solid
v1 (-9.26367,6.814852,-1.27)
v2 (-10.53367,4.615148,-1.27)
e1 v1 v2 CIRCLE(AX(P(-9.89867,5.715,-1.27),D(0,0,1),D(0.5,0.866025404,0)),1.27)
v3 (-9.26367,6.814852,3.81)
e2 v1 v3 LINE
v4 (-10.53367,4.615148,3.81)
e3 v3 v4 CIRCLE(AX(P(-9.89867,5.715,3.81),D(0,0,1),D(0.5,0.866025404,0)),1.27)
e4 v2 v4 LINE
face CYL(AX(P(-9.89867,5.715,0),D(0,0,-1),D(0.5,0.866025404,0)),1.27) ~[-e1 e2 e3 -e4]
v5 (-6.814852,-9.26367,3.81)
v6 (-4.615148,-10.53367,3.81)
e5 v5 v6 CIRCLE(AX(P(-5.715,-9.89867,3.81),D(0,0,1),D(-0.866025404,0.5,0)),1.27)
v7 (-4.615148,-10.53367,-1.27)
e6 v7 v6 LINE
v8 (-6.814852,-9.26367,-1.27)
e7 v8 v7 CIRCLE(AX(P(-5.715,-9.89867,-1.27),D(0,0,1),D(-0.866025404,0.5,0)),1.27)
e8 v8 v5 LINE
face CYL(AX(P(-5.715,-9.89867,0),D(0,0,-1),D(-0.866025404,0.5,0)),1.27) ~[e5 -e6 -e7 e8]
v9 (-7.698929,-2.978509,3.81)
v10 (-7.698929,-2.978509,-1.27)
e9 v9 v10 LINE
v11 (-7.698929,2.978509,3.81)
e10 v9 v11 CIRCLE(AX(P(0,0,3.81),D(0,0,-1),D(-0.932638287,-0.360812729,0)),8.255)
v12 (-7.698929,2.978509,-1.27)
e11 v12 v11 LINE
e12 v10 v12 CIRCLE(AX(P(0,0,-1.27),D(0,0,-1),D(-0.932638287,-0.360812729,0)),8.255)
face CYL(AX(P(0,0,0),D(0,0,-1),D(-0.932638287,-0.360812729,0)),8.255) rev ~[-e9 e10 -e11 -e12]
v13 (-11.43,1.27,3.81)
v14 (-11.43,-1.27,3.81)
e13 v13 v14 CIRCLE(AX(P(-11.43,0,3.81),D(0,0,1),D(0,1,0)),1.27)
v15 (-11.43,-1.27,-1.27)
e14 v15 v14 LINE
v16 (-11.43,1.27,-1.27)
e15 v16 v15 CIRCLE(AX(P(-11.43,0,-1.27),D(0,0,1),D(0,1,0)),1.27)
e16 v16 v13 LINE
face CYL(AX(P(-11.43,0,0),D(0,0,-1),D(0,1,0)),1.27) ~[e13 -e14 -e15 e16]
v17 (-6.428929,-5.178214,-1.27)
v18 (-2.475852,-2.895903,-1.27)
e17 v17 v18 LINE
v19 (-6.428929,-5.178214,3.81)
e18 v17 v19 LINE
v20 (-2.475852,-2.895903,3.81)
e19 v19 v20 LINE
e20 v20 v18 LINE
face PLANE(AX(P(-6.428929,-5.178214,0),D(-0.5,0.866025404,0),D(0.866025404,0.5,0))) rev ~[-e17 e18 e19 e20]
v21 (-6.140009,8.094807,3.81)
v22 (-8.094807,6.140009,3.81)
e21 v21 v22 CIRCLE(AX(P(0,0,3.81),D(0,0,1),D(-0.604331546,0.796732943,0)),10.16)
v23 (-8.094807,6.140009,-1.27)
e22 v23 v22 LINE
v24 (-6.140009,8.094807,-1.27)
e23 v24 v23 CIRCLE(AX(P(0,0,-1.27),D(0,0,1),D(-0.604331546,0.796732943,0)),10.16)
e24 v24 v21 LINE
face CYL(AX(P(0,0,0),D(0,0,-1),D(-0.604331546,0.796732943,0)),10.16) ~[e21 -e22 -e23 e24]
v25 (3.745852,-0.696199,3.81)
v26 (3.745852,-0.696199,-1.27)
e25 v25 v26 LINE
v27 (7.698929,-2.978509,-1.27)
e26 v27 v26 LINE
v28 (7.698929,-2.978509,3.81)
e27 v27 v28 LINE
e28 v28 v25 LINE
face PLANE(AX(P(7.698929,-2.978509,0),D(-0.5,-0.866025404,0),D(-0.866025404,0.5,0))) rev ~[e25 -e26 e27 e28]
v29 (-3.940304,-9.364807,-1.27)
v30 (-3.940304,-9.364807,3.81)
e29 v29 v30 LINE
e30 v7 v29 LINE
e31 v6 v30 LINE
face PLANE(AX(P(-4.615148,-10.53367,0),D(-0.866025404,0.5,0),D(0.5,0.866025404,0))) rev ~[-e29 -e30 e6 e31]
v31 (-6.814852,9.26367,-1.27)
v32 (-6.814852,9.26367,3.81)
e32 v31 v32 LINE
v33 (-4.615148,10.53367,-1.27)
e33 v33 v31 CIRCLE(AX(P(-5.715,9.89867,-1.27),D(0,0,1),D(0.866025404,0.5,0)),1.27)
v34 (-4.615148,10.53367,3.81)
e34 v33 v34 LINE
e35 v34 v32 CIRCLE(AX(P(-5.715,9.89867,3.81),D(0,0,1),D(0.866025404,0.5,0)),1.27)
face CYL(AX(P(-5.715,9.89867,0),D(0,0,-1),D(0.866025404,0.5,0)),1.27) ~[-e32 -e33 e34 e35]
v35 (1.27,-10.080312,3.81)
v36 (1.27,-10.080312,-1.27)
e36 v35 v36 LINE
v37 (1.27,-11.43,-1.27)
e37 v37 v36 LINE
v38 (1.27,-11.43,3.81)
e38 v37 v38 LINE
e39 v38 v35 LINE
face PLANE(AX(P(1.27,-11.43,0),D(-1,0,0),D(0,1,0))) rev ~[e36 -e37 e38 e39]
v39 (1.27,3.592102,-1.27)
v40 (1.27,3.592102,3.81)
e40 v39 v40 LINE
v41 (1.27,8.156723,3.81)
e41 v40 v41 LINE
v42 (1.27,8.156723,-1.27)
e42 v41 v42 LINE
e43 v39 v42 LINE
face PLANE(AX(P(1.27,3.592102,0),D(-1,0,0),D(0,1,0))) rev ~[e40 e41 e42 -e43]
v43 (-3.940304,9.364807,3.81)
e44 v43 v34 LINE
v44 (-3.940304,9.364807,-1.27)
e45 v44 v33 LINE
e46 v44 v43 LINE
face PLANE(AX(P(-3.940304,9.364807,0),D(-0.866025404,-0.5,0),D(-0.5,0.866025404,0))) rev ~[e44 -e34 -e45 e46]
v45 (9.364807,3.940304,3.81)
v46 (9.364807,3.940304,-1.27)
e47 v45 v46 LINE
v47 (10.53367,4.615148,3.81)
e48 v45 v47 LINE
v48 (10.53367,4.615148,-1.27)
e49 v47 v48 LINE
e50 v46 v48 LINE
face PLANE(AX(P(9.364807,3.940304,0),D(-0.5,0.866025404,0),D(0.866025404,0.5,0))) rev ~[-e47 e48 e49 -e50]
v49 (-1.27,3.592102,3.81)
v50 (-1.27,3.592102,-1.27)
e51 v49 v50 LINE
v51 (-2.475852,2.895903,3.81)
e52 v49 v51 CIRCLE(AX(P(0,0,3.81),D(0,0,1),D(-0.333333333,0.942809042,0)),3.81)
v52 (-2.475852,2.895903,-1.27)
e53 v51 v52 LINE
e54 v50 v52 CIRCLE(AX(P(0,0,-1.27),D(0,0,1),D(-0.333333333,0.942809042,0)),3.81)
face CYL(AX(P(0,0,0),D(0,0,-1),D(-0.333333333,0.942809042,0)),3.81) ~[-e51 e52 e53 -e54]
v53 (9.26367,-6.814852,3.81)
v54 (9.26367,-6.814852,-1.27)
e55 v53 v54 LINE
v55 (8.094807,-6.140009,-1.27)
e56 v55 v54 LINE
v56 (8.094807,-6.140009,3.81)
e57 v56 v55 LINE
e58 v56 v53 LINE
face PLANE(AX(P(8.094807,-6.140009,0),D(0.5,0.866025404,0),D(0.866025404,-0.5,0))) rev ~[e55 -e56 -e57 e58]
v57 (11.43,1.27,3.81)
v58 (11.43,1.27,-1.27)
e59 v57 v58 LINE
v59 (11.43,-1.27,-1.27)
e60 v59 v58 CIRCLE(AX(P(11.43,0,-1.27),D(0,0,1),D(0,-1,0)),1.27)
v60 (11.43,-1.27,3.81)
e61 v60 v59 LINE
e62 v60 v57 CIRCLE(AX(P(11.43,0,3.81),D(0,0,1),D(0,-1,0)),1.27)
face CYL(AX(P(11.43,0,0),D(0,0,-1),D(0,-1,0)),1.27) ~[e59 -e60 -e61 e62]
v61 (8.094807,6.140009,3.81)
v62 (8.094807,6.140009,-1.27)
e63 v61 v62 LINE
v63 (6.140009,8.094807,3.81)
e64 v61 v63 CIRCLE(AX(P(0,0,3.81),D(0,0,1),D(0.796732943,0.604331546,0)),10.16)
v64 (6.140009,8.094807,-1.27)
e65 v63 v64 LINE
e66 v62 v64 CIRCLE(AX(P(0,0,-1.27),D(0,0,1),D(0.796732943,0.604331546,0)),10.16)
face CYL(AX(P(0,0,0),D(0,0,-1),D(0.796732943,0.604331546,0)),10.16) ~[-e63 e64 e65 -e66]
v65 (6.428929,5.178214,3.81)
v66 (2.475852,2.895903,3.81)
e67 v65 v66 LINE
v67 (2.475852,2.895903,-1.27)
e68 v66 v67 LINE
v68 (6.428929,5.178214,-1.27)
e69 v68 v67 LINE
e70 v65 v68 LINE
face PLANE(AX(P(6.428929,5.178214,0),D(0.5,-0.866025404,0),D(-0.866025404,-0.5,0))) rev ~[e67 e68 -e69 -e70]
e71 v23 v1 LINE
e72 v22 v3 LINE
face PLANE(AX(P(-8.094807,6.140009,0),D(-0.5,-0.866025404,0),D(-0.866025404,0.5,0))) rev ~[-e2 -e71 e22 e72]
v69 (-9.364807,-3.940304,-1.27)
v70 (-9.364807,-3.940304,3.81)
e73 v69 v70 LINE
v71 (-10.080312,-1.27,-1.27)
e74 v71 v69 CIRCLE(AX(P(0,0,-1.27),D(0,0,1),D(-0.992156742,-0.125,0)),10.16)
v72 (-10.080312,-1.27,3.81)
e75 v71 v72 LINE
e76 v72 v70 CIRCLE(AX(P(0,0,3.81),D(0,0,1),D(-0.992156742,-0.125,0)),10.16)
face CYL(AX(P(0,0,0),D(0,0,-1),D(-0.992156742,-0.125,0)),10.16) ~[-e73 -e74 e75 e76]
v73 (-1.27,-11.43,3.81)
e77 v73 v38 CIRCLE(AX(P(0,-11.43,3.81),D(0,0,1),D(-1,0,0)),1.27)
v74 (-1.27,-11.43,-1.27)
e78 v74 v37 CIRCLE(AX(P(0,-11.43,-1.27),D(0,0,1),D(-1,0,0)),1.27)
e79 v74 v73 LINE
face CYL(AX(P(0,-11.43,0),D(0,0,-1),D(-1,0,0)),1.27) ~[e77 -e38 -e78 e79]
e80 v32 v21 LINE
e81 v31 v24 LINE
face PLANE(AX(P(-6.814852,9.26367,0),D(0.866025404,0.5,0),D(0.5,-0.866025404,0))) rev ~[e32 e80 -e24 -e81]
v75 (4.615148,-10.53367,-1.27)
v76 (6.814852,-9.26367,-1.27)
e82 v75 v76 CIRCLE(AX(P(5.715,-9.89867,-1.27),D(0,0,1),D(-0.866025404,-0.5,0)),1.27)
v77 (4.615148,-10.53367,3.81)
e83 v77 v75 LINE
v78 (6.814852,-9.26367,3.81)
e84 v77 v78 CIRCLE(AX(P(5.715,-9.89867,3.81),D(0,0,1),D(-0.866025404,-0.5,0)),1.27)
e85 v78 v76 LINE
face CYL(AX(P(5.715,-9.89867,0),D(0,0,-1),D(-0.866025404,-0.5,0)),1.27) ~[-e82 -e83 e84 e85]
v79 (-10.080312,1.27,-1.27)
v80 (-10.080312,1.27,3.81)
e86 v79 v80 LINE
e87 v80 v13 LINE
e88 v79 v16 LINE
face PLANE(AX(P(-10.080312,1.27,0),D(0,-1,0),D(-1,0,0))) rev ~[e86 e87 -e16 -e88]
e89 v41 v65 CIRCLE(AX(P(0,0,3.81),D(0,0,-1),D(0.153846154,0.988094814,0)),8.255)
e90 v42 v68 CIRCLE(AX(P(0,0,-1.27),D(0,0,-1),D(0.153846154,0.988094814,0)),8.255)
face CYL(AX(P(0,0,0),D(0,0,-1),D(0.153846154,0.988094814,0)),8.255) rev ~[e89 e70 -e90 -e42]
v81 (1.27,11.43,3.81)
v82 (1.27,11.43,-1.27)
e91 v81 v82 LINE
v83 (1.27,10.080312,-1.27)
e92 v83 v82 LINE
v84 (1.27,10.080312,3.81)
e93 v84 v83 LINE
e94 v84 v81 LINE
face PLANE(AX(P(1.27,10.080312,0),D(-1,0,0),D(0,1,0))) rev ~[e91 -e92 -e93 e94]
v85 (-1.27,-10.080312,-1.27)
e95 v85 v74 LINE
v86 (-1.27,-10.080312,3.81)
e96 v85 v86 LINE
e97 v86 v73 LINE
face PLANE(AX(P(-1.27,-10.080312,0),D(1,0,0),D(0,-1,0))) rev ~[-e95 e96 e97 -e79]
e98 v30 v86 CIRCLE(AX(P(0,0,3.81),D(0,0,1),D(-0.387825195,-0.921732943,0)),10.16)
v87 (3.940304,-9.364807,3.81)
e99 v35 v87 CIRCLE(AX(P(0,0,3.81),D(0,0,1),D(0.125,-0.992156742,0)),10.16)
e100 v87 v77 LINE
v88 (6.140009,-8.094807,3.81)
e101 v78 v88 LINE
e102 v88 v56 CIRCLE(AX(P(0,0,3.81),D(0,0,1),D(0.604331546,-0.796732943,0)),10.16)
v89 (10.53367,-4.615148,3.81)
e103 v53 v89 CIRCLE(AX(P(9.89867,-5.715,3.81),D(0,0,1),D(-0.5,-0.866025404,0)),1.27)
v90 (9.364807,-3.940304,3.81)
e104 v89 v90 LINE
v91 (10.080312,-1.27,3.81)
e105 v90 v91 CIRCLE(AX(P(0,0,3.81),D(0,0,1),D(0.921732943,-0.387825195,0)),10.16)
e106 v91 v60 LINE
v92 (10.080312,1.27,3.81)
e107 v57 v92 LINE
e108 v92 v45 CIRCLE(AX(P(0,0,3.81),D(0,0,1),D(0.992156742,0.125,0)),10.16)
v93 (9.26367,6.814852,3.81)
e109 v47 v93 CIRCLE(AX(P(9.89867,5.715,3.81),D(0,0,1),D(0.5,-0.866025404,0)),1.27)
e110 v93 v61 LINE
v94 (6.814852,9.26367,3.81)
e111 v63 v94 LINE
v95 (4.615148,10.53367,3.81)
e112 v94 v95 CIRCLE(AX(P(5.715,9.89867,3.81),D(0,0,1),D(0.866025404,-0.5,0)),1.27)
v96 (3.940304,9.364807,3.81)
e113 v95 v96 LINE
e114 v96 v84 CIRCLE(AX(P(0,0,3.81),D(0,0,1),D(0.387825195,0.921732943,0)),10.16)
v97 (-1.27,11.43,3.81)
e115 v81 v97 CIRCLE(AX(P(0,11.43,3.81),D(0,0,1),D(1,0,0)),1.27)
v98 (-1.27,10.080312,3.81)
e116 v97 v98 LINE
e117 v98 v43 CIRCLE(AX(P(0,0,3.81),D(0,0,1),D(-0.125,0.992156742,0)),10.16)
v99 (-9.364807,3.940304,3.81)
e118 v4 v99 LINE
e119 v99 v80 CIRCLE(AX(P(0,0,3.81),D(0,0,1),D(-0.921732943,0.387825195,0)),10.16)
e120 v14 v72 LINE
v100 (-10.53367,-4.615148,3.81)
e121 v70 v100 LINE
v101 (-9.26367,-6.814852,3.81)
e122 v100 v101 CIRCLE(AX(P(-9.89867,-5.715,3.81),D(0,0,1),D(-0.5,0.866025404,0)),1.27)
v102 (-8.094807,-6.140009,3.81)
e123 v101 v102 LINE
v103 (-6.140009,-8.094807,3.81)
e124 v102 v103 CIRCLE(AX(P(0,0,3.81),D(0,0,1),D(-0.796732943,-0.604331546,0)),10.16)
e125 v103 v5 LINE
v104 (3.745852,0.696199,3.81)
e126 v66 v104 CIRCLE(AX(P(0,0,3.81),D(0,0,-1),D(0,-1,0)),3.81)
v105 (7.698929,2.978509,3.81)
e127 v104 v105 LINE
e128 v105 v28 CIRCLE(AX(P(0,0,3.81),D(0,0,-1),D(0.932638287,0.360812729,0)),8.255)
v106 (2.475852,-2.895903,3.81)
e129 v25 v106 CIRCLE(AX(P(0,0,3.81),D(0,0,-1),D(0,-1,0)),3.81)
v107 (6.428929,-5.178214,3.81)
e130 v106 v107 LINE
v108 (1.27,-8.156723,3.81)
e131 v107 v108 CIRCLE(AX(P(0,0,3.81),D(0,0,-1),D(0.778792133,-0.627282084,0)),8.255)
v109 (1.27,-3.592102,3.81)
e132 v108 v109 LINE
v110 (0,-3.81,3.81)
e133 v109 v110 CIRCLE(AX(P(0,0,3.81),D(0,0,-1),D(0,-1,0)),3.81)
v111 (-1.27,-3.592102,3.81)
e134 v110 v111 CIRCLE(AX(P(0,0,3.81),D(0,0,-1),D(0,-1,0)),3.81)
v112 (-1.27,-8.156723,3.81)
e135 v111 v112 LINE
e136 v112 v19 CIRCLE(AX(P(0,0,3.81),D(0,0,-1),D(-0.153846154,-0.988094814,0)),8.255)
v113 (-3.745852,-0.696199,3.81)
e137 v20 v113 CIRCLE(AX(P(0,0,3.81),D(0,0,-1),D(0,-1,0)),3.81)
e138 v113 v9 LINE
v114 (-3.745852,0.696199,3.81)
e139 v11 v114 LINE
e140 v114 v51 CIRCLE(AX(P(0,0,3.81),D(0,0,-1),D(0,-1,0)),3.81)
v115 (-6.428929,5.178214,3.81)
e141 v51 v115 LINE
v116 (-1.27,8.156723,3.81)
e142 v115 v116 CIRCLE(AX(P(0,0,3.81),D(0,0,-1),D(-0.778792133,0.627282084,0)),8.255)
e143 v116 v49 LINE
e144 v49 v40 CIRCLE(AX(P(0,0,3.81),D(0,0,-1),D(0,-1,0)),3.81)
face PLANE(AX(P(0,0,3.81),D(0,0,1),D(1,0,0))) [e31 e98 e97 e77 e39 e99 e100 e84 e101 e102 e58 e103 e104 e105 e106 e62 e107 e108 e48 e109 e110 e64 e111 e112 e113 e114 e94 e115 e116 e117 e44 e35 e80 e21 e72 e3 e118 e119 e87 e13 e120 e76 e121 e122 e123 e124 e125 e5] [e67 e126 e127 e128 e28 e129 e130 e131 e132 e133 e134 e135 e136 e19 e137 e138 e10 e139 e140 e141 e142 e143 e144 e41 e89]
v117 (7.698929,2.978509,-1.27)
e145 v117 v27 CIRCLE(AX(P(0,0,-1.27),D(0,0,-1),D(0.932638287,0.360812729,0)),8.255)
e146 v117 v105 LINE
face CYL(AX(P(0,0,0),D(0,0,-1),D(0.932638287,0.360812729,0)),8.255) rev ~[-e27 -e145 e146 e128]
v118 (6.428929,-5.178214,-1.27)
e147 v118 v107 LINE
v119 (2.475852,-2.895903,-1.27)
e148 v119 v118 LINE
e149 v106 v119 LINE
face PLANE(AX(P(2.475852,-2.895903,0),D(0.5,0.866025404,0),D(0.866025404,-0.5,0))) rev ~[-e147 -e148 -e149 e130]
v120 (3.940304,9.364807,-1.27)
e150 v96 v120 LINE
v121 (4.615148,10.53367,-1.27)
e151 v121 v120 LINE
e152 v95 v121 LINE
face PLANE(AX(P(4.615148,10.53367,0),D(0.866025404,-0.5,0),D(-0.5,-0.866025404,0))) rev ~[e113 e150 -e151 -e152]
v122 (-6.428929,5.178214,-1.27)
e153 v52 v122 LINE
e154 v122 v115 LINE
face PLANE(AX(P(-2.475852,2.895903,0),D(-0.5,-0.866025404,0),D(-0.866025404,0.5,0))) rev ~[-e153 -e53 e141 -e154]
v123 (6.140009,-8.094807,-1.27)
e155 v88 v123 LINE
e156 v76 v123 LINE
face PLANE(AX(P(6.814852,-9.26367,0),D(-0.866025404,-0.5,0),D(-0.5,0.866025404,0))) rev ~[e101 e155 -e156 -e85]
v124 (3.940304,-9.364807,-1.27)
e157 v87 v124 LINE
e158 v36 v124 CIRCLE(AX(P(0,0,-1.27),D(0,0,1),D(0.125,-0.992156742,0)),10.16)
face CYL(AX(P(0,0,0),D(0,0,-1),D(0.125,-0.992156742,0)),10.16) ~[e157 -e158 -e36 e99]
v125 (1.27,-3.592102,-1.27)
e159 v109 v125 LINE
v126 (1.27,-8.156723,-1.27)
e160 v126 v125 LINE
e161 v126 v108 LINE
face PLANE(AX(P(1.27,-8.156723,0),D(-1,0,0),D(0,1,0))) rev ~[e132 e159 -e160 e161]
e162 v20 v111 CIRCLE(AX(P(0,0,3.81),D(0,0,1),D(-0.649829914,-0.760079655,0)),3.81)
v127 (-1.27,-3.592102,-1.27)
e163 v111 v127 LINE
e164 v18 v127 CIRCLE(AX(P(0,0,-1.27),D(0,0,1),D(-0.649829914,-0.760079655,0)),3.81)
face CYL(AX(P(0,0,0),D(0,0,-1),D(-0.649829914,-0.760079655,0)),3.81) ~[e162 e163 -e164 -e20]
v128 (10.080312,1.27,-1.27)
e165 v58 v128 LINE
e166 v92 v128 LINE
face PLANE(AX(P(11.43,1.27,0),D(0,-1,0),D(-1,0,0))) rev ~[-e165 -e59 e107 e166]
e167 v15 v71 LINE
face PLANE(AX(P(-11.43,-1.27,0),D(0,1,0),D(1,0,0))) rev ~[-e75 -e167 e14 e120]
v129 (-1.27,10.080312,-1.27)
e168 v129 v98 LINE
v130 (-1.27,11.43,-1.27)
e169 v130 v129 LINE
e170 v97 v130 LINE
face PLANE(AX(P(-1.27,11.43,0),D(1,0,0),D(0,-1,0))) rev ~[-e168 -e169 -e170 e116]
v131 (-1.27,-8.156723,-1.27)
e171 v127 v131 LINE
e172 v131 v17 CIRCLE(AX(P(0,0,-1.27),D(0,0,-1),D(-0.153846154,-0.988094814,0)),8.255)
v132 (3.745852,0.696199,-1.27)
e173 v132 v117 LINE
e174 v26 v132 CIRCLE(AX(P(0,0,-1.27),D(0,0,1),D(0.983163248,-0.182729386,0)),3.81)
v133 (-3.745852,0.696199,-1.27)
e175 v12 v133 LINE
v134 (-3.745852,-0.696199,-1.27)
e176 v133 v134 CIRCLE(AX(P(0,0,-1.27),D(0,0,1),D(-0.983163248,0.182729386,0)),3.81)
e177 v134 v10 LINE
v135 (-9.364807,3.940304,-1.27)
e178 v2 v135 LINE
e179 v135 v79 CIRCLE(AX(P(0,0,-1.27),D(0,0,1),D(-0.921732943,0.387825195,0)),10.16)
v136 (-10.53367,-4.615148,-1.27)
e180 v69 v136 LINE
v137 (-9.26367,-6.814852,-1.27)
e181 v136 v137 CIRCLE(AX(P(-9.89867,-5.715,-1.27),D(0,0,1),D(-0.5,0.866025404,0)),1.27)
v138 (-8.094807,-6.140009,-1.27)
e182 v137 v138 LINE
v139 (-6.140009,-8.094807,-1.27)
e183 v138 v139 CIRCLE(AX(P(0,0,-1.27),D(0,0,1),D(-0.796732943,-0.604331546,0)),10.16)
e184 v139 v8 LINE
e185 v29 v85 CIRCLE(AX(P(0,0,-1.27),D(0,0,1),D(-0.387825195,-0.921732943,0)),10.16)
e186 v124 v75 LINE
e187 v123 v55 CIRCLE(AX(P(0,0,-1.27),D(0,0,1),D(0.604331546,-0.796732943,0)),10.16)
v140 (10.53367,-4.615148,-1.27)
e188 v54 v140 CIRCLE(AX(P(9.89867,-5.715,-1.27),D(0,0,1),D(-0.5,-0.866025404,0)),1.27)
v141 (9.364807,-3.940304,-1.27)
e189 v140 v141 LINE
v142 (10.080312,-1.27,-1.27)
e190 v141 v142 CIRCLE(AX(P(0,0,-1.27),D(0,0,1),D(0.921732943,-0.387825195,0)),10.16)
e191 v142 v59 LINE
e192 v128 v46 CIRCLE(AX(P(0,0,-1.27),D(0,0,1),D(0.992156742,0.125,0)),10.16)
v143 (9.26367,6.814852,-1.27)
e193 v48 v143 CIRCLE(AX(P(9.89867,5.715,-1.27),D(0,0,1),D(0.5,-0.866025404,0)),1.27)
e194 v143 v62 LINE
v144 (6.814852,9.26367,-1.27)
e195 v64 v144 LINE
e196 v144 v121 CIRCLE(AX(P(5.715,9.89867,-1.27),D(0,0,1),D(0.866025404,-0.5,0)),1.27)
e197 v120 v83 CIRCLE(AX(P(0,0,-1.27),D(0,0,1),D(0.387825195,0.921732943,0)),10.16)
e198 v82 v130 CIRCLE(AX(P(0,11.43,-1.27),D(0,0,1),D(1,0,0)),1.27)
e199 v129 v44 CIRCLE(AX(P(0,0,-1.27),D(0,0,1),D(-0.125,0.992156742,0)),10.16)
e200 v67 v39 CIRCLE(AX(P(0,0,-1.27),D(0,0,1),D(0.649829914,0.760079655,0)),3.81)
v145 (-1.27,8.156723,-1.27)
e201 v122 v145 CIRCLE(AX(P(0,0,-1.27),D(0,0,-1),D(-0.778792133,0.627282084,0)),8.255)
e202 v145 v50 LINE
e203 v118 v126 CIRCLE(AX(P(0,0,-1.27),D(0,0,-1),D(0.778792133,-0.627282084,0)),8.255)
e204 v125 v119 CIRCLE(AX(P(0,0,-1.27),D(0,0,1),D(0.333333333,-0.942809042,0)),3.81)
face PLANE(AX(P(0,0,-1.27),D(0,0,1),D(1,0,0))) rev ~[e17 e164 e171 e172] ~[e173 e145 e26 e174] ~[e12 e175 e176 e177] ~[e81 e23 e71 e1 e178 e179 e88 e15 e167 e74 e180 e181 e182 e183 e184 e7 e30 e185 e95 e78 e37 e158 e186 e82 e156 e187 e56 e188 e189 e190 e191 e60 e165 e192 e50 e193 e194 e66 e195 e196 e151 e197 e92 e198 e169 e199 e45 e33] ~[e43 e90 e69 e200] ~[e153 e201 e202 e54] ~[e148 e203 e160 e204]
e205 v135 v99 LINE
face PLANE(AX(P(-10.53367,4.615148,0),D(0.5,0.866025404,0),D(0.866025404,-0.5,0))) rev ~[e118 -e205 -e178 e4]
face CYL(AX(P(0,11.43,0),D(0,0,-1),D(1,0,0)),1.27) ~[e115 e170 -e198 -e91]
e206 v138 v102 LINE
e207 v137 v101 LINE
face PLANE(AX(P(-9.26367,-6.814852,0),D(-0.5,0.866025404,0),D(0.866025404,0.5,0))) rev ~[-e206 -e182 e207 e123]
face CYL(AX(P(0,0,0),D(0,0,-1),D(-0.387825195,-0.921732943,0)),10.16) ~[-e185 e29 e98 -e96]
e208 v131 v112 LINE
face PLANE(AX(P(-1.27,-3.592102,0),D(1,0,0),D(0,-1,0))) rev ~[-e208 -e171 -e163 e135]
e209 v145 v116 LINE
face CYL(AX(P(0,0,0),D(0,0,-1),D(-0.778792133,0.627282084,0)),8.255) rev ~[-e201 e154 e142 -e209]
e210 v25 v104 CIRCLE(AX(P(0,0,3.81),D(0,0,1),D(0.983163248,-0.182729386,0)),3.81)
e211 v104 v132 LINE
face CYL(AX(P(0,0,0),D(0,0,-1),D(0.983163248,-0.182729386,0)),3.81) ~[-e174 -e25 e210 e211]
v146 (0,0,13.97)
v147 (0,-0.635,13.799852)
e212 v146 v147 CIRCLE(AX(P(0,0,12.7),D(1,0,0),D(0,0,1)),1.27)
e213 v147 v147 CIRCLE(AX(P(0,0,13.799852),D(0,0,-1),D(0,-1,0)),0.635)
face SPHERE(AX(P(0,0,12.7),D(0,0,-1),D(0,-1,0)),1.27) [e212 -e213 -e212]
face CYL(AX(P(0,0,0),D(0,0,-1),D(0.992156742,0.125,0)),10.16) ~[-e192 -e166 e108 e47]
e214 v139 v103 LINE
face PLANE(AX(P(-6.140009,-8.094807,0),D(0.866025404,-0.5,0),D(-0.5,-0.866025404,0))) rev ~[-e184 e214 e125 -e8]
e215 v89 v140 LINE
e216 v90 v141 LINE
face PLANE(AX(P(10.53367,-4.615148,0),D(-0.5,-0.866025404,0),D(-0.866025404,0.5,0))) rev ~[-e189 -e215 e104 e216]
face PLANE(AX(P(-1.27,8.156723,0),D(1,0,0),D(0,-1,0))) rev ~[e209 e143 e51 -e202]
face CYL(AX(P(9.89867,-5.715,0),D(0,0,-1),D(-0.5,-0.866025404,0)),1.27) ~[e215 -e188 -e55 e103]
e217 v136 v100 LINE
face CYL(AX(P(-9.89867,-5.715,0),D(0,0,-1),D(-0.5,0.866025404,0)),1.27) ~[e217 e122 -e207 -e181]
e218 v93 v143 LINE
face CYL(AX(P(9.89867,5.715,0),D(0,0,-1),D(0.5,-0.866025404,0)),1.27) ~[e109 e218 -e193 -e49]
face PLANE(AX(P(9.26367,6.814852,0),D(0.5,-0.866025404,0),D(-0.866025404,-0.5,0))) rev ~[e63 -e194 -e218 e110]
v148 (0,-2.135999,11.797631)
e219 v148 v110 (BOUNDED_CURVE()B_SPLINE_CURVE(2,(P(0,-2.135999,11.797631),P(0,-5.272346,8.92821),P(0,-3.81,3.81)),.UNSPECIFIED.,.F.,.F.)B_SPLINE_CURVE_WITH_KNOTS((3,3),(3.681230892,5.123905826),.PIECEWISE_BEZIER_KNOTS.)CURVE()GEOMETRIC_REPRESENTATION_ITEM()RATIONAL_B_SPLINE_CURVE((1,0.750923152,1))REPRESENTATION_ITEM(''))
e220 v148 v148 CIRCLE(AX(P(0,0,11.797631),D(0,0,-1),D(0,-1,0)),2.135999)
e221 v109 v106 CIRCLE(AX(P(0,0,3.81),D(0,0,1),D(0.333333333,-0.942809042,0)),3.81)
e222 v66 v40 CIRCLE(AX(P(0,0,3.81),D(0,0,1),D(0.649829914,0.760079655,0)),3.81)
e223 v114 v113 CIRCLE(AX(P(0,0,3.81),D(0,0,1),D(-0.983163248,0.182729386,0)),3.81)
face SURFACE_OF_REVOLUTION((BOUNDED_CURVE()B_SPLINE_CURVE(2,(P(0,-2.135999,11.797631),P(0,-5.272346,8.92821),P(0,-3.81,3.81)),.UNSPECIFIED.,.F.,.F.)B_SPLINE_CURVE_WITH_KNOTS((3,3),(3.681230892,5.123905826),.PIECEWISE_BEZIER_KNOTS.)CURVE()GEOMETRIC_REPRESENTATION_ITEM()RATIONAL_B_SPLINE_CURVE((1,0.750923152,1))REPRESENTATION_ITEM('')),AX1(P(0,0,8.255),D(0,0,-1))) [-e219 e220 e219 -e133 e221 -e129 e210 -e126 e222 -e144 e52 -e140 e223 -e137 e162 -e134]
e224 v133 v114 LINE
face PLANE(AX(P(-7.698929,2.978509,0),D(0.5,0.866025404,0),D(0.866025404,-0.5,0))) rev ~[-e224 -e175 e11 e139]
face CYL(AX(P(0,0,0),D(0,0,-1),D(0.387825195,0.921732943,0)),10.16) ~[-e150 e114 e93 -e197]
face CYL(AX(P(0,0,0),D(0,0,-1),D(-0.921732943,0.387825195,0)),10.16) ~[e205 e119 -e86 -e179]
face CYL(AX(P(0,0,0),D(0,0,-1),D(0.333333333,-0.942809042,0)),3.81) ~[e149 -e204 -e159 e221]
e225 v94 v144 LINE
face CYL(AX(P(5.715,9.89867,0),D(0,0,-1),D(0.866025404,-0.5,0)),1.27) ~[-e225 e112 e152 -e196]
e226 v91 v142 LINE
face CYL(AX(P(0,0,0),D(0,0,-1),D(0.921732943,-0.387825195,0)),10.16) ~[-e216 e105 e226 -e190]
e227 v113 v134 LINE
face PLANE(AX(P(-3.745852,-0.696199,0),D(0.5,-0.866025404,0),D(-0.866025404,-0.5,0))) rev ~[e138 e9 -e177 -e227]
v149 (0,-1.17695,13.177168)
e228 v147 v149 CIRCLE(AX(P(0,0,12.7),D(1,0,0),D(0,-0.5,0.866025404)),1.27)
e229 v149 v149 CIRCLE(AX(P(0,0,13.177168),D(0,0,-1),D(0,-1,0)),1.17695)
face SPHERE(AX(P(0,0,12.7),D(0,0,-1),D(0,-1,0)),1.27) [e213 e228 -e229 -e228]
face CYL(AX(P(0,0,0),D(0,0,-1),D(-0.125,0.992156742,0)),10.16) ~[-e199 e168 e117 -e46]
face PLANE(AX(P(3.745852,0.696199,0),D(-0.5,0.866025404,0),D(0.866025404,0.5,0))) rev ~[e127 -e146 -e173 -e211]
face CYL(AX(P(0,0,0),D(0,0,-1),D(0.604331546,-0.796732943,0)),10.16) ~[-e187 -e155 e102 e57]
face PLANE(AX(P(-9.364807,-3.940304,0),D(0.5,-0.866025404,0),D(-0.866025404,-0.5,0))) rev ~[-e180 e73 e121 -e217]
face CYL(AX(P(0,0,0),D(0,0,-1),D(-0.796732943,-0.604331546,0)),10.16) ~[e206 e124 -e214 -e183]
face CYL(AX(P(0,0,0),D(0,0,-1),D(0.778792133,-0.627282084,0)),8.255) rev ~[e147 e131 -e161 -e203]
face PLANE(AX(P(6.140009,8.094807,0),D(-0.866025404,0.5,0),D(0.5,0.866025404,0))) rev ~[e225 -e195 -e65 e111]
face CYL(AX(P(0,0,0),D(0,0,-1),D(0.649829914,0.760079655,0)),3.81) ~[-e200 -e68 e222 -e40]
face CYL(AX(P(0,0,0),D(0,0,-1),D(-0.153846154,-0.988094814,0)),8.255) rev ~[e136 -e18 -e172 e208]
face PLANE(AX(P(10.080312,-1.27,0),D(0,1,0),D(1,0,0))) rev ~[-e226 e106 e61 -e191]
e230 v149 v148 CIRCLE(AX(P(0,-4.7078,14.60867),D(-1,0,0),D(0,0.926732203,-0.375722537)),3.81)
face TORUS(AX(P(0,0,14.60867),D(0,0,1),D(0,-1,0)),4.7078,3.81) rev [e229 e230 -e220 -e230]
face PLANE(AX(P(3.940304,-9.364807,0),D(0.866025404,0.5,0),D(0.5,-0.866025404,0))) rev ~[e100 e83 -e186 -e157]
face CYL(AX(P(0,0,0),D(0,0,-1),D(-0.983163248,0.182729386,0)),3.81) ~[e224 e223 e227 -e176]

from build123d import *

# Parameters (mm, degrees)
F1_DEPTH = 1.27
F2_DEPTH = 3.81


with BuildPart() as f1:
    # F0 (on Top) → F1 (new body)
    with BuildSketch(Plane.XY):
        with BuildLine():
            Line((-1.27, 11.43), (-1.27, 10.0803124952))
            ThreePointArc((-1.27, 10.0803124952), (-2.6296014982, 9.8138063951), (-3.9403039848, 9.3648066989))
            Line((-3.9403039848, 9.3648066989), (-4.6151477372, 10.5336703653))
            ThreePointArc((-4.6151477372, 10.5336703653), (-6.35, 10.9985226281), (-6.8148522628, 9.2636703653))
            Line((-6.8148522628, 9.2636703653), (-6.1400085104, 8.0948066989))
            ThreePointArc((-6.1400085104, 8.0948066989), (-7.1842048969, 7.1842048969), (-8.0948066989, 6.1400085104))
            Line((-8.0948066989, 6.1400085104), (-9.2636703653, 6.8148522628))
            ThreePointArc((-9.2636703653, 6.8148522628), (-10.9985226281, 6.35), (-10.5336703653, 4.6151477372))
            Line((-10.5336703653, 4.6151477372), (-9.3648066989, 3.9403039848))
            ThreePointArc((-9.3648066989, 3.9403039848), (-9.8138063951, 2.6296014982), (-10.0803124952, 1.27))
            Line((-10.0803124952, 1.27), (-11.43, 1.27))
            ThreePointArc((-11.43, 1.27), (-12.7, 0), (-11.43, -1.27))
            Line((-11.43, -1.27), (-10.0803124952, -1.27))
            ThreePointArc((-10.0803124952, -1.27), (-9.8138063951, -2.6296014982), (-9.3648066989, -3.9403039848))
            Line((-9.3648066989, -3.9403039848), (-10.5336703653, -4.6151477372))
            ThreePointArc((-10.5336703653, -4.6151477372), (-10.9985226281, -6.35), (-9.2636703653, -6.8148522628))
            Line((-9.2636703653, -6.8148522628), (-8.0948066989, -6.1400085104))
            ThreePointArc((-8.0948066989, -6.1400085104), (-7.1842048969, -7.1842048969), (-6.1400085104, -8.0948066989))
            Line((-6.1400085104, -8.0948066989), (-6.8148522628, -9.2636703653))
            ThreePointArc((-6.8148522628, -9.2636703653), (-6.35, -10.9985226281), (-4.6151477372, -10.5336703653))
            Line((-4.6151477372, -10.5336703653), (-3.9403039848, -9.3648066989))
            ThreePointArc((-3.9403039848, -9.3648066989), (-2.6296014982, -9.8138063951), (-1.27, -10.0803124952))
            Line((-1.27, -10.0803124952), (-1.27, -11.43))
            ThreePointArc((-1.27, -11.43), (0, -12.7), (1.27, -11.43))
            Line((1.27, -11.43), (1.27, -10.0803124952))
            ThreePointArc((1.27, -10.0803124952), (2.6296014982, -9.8138063951), (3.9403039848, -9.3648066989))
            Line((3.9403039848, -9.3648066989), (4.6151477372, -10.5336703653))
            ThreePointArc((4.6151477372, -10.5336703653), (6.35, -10.9985226281), (6.8148522628, -9.2636703653))
            Line((6.8148522628, -9.2636703653), (6.1400085104, -8.0948066989))
            ThreePointArc((6.1400085104, -8.0948066989), (7.1842048969, -7.1842048969), (8.0948066989, -6.1400085104))
            Line((8.0948066989, -6.1400085104), (9.2636703653, -6.8148522628))
            ThreePointArc((9.2636703653, -6.8148522628), (10.9985226281, -6.35), (10.5336703653, -4.6151477372))
            Line((10.5336703653, -4.6151477372), (9.3648066989, -3.9403039848))
            ThreePointArc((9.3648066989, -3.9403039848), (9.8138063951, -2.6296014982), (10.0803124952, -1.27))
            Line((10.0803124952, -1.27), (11.43, -1.27))
            ThreePointArc((11.43, -1.27), (12.7, 0), (11.43, 1.27))
            Line((11.43, 1.27), (10.0803124952, 1.27))
            ThreePointArc((10.0803124952, 1.27), (9.8138063951, 2.6296014982), (9.3648066989, 3.9403039848))
            Line((9.3648066989, 3.9403039848), (10.5336703653, 4.6151477372))
            ThreePointArc((10.5336703653, 4.6151477372), (10.9985226281, 6.35), (9.2636703653, 6.8148522628))
            Line((9.2636703653, 6.8148522628), (8.0948066989, 6.1400085104))
            ThreePointArc((8.0948066989, 6.1400085104), (7.1842048969, 7.1842048969), (6.1400085104, 8.0948066989))
            Line((6.1400085104, 8.0948066989), (6.8148522628, 9.2636703653))
            ThreePointArc((6.8148522628, 9.2636703653), (6.35, 10.9985226281), (4.6151477372, 10.5336703653))
            Line((4.6151477372, 10.5336703653), (3.9403039848, 9.3648066989))
            ThreePointArc((3.9403039848, 9.3648066989), (2.6296014982, 9.8138063951), (1.27, 10.0803124952))
            Line((1.27, 10.0803124952), (1.27, 11.43))
            ThreePointArc((1.27, 11.43), (0, 12.7), (-1.27, 11.43))
        make_face()
        with BuildLine():
            ThreePointArc((-1.27, -8.1567226875), (-4.1275, -7.1490397082), (-6.428929059, -5.1782136065))
            Line((-6.428929059, -5.1782136065), (-2.4758519733, -2.895903487))
            ThreePointArc((-2.4758519733, -2.895903487), (-1.905, -3.2995567884), (-1.27, -3.5921024484))
            Line((-1.27, -3.5921024484), (-1.27, -8.1567226875))
        make_face(mode=Mode.SUBTRACT)
        with BuildLine():
            ThreePointArc((6.428929059, -5.1782136065), (4.1275, -7.1490397082), (1.27, -8.1567226875))
            Line((1.27, -8.1567226875), (1.27, -3.5921024484))
            ThreePointArc((1.27, -3.5921024484), (1.905, -3.2995567884), (2.4758519733, -2.895903487))
            Line((2.4758519733, -2.895903487), (6.428929059, -5.1782136065))
        make_face(mode=Mode.SUBTRACT)
        with BuildLine():
            ThreePointArc((7.698929059, 2.9785090809), (8.255, 0), (7.698929059, -2.9785090809))
            Line((7.698929059, -2.9785090809), (3.7458519733, -0.6961989614))
            ThreePointArc((3.7458519733, -0.6961989614), (3.81, 0), (3.7458519733, 0.6961989614))
            Line((3.7458519733, 0.6961989614), (7.698929059, 2.9785090809))
        make_face(mode=Mode.SUBTRACT)
        with BuildLine():
            Line((-7.698929059, 2.9785090809), (-3.7458519733, 0.6961989614))
            ThreePointArc((-3.7458519733, 0.6961989614), (-3.81, 0), (-3.7458519733, -0.6961989614))
            Line((-3.7458519733, -0.6961989614), (-7.698929059, -2.9785090809))
            ThreePointArc((-7.698929059, -2.9785090809), (-8.255, 0), (-7.698929059, 2.9785090809))
        make_face(mode=Mode.SUBTRACT)
        with BuildLine():
            ThreePointArc((-6.428929059, 5.1782136065), (-4.1275, 7.1490397082), (-1.27, 8.1567226875))
            Line((-1.27, 8.1567226875), (-1.27, 3.5921024484))
            ThreePointArc((-1.27, 3.5921024484), (-1.905, 3.2995567884), (-2.4758519733, 2.895903487))
            Line((-2.4758519733, 2.895903487), (-6.428929059, 5.1782136065))
        make_face(mode=Mode.SUBTRACT)
        with BuildLine():
            Line((1.27, 3.5921024484), (1.27, 8.1567226875))
            ThreePointArc((1.27, 8.1567226875), (4.1275, 7.1490397082), (6.428929059, 5.1782136065))
            Line((6.428929059, 5.1782136065), (2.4758519733, 2.895903487))
            ThreePointArc((2.4758519733, 2.895903487), (1.905, 3.2995567884), (1.27, 3.5921024484))
        make_face(mode=Mode.SUBTRACT)
    extrude(amount=-F1_DEPTH)

    # F0 (on Top) → F2 (join)
    with BuildSketch(Plane.XY):
        with BuildLine():
            Line((-1.27, 11.43), (-1.27, 10.0803124952))
            ThreePointArc((-1.27, 10.0803124952), (-2.6296014982, 9.8138063951), (-3.9403039848, 9.3648066989))
            Line((-3.9403039848, 9.3648066989), (-4.6151477372, 10.5336703653))
            ThreePointArc((-4.6151477372, 10.5336703653), (-6.35, 10.9985226281), (-6.8148522628, 9.2636703653))
            Line((-6.8148522628, 9.2636703653), (-6.1400085104, 8.0948066989))
            ThreePointArc((-6.1400085104, 8.0948066989), (-7.1842048969, 7.1842048969), (-8.0948066989, 6.1400085104))
            Line((-8.0948066989, 6.1400085104), (-9.2636703653, 6.8148522628))
            ThreePointArc((-9.2636703653, 6.8148522628), (-10.9985226281, 6.35), (-10.5336703653, 4.6151477372))
            Line((-10.5336703653, 4.6151477372), (-9.3648066989, 3.9403039848))
            ThreePointArc((-9.3648066989, 3.9403039848), (-9.8138063951, 2.6296014982), (-10.0803124952, 1.27))
            Line((-10.0803124952, 1.27), (-11.43, 1.27))
            ThreePointArc((-11.43, 1.27), (-12.7, 0), (-11.43, -1.27))
            Line((-11.43, -1.27), (-10.0803124952, -1.27))
            ThreePointArc((-10.0803124952, -1.27), (-9.8138063951, -2.6296014982), (-9.3648066989, -3.9403039848))
            Line((-9.3648066989, -3.9403039848), (-10.5336703653, -4.6151477372))
            ThreePointArc((-10.5336703653, -4.6151477372), (-10.9985226281, -6.35), (-9.2636703653, -6.8148522628))
            Line((-9.2636703653, -6.8148522628), (-8.0948066989, -6.1400085104))
            ThreePointArc((-8.0948066989, -6.1400085104), (-7.1842048969, -7.1842048969), (-6.1400085104, -8.0948066989))
            Line((-6.1400085104, -8.0948066989), (-6.8148522628, -9.2636703653))
            ThreePointArc((-6.8148522628, -9.2636703653), (-6.35, -10.9985226281), (-4.6151477372, -10.5336703653))
            Line((-4.6151477372, -10.5336703653), (-3.9403039848, -9.3648066989))
            ThreePointArc((-3.9403039848, -9.3648066989), (-2.6296014982, -9.8138063951), (-1.27, -10.0803124952))
            Line((-1.27, -10.0803124952), (-1.27, -11.43))
            ThreePointArc((-1.27, -11.43), (0, -12.7), (1.27, -11.43))
            Line((1.27, -11.43), (1.27, -10.0803124952))
            ThreePointArc((1.27, -10.0803124952), (2.6296014982, -9.8138063951), (3.9403039848, -9.3648066989))
            Line((3.9403039848, -9.3648066989), (4.6151477372, -10.5336703653))
            ThreePointArc((4.6151477372, -10.5336703653), (6.35, -10.9985226281), (6.8148522628, -9.2636703653))
            Line((6.8148522628, -9.2636703653), (6.1400085104, -8.0948066989))
            ThreePointArc((6.1400085104, -8.0948066989), (7.1842048969, -7.1842048969), (8.0948066989, -6.1400085104))
            Line((8.0948066989, -6.1400085104), (9.2636703653, -6.8148522628))
            ThreePointArc((9.2636703653, -6.8148522628), (10.9985226281, -6.35), (10.5336703653, -4.6151477372))
            Line((10.5336703653, -4.6151477372), (9.3648066989, -3.9403039848))
            ThreePointArc((9.3648066989, -3.9403039848), (9.8138063951, -2.6296014982), (10.0803124952, -1.27))
            Line((10.0803124952, -1.27), (11.43, -1.27))
            ThreePointArc((11.43, -1.27), (12.7, 0), (11.43, 1.27))
            Line((11.43, 1.27), (10.0803124952, 1.27))
            ThreePointArc((10.0803124952, 1.27), (9.8138063951, 2.6296014982), (9.3648066989, 3.9403039848))
            Line((9.3648066989, 3.9403039848), (10.5336703653, 4.6151477372))
            ThreePointArc((10.5336703653, 4.6151477372), (10.9985226281, 6.35), (9.2636703653, 6.8148522628))
            Line((9.2636703653, 6.8148522628), (8.0948066989, 6.1400085104))
            ThreePointArc((8.0948066989, 6.1400085104), (7.1842048969, 7.1842048969), (6.1400085104, 8.0948066989))
            Line((6.1400085104, 8.0948066989), (6.8148522628, 9.2636703653))
            ThreePointArc((6.8148522628, 9.2636703653), (6.35, 10.9985226281), (4.6151477372, 10.5336703653))
            Line((4.6151477372, 10.5336703653), (3.9403039848, 9.3648066989))
            ThreePointArc((3.9403039848, 9.3648066989), (2.6296014982, 9.8138063951), (1.27, 10.0803124952))
            Line((1.27, 10.0803124952), (1.27, 11.43))
            ThreePointArc((1.27, 11.43), (0, 12.7), (-1.27, 11.43))
        make_face()
        with BuildLine():
            ThreePointArc((-1.27, -8.1567226875), (-4.1275, -7.1490397082), (-6.428929059, -5.1782136065))
            Line((-6.428929059, -5.1782136065), (-2.4758519733, -2.895903487))
            ThreePointArc((-2.4758519733, -2.895903487), (-1.905, -3.2995567884), (-1.27, -3.5921024484))
            Line((-1.27, -3.5921024484), (-1.27, -8.1567226875))
        make_face(mode=Mode.SUBTRACT)
        with BuildLine():
            ThreePointArc((6.428929059, -5.1782136065), (4.1275, -7.1490397082), (1.27, -8.1567226875))
            Line((1.27, -8.1567226875), (1.27, -3.5921024484))
            ThreePointArc((1.27, -3.5921024484), (1.905, -3.2995567884), (2.4758519733, -2.895903487))
            Line((2.4758519733, -2.895903487), (6.428929059, -5.1782136065))
        make_face(mode=Mode.SUBTRACT)
        with BuildLine():
            ThreePointArc((7.698929059, 2.9785090809), (8.255, 0), (7.698929059, -2.9785090809))
            Line((7.698929059, -2.9785090809), (3.7458519733, -0.6961989614))
            ThreePointArc((3.7458519733, -0.6961989614), (3.81, 0), (3.7458519733, 0.6961989614))
            Line((3.7458519733, 0.6961989614), (7.698929059, 2.9785090809))
        make_face(mode=Mode.SUBTRACT)
        with BuildLine():
            Line((-7.698929059, 2.9785090809), (-3.7458519733, 0.6961989614))
            ThreePointArc((-3.7458519733, 0.6961989614), (-3.81, 0), (-3.7458519733, -0.6961989614))
            Line((-3.7458519733, -0.6961989614), (-7.698929059, -2.9785090809))
            ThreePointArc((-7.698929059, -2.9785090809), (-8.255, 0), (-7.698929059, 2.9785090809))
        make_face(mode=Mode.SUBTRACT)
        with BuildLine():
            ThreePointArc((-6.428929059, 5.1782136065), (-4.1275, 7.1490397082), (-1.27, 8.1567226875))
            Line((-1.27, 8.1567226875), (-1.27, 3.5921024484))
            ThreePointArc((-1.27, 3.5921024484), (-1.905, 3.2995567884), (-2.4758519733, 2.895903487))
            Line((-2.4758519733, 2.895903487), (-6.428929059, 5.1782136065))
        make_face(mode=Mode.SUBTRACT)
        with BuildLine():
            Line((1.27, 3.5921024484), (1.27, 8.1567226875))
            ThreePointArc((1.27, 8.1567226875), (4.1275, 7.1490397082), (6.428929059, 5.1782136065))
            Line((6.428929059, 5.1782136065), (2.4758519733, 2.895903487))
            ThreePointArc((2.4758519733, 2.895903487), (1.905, 3.2995567884), (1.27, 3.5921024484))
        make_face(mode=Mode.SUBTRACT)
    extrude(amount=F2_DEPTH)

    # F3 (on Right) → F4 (revolve)
    with BuildSketch(Plane.YZ):
        with BuildLine():
            ThreePointArc((-1.1769498973, 13.1771676217), (-1.5794830695, 12.4338749212), (-2.1359994269, 11.7976308349))
            add(Edge.make_bspline(
                [(-2.1359994269, 11.7976308349), (-5.2723457025, 8.9282099587), (-3.81, 3.81)],
                knots=[3.6812308924, 3.6812308924, 3.6812308924, 5.1239058265, 5.1239058265, 5.1239058265], degree=2, weights=[1, 0.7509231517, 1]))
            Line((-3.81, 3.81), (0, 3.81))
            Line((0, 3.81), (0, 12.7))
            Line((0, 12.7), (0, 13.97))
            ThreePointArc((0, 13.97), (-0.3287001873, 13.9267257994), (-0.635, 13.7998522628))
            ThreePointArc((-0.635, 13.7998522628), (-0.9579794612, 13.5337717624), (-1.1769498973, 13.1771676217))
        make_face()
    revolve(axis=Axis((0, 0, 8.255), (0, 0, -1)))


solid = f1.part
